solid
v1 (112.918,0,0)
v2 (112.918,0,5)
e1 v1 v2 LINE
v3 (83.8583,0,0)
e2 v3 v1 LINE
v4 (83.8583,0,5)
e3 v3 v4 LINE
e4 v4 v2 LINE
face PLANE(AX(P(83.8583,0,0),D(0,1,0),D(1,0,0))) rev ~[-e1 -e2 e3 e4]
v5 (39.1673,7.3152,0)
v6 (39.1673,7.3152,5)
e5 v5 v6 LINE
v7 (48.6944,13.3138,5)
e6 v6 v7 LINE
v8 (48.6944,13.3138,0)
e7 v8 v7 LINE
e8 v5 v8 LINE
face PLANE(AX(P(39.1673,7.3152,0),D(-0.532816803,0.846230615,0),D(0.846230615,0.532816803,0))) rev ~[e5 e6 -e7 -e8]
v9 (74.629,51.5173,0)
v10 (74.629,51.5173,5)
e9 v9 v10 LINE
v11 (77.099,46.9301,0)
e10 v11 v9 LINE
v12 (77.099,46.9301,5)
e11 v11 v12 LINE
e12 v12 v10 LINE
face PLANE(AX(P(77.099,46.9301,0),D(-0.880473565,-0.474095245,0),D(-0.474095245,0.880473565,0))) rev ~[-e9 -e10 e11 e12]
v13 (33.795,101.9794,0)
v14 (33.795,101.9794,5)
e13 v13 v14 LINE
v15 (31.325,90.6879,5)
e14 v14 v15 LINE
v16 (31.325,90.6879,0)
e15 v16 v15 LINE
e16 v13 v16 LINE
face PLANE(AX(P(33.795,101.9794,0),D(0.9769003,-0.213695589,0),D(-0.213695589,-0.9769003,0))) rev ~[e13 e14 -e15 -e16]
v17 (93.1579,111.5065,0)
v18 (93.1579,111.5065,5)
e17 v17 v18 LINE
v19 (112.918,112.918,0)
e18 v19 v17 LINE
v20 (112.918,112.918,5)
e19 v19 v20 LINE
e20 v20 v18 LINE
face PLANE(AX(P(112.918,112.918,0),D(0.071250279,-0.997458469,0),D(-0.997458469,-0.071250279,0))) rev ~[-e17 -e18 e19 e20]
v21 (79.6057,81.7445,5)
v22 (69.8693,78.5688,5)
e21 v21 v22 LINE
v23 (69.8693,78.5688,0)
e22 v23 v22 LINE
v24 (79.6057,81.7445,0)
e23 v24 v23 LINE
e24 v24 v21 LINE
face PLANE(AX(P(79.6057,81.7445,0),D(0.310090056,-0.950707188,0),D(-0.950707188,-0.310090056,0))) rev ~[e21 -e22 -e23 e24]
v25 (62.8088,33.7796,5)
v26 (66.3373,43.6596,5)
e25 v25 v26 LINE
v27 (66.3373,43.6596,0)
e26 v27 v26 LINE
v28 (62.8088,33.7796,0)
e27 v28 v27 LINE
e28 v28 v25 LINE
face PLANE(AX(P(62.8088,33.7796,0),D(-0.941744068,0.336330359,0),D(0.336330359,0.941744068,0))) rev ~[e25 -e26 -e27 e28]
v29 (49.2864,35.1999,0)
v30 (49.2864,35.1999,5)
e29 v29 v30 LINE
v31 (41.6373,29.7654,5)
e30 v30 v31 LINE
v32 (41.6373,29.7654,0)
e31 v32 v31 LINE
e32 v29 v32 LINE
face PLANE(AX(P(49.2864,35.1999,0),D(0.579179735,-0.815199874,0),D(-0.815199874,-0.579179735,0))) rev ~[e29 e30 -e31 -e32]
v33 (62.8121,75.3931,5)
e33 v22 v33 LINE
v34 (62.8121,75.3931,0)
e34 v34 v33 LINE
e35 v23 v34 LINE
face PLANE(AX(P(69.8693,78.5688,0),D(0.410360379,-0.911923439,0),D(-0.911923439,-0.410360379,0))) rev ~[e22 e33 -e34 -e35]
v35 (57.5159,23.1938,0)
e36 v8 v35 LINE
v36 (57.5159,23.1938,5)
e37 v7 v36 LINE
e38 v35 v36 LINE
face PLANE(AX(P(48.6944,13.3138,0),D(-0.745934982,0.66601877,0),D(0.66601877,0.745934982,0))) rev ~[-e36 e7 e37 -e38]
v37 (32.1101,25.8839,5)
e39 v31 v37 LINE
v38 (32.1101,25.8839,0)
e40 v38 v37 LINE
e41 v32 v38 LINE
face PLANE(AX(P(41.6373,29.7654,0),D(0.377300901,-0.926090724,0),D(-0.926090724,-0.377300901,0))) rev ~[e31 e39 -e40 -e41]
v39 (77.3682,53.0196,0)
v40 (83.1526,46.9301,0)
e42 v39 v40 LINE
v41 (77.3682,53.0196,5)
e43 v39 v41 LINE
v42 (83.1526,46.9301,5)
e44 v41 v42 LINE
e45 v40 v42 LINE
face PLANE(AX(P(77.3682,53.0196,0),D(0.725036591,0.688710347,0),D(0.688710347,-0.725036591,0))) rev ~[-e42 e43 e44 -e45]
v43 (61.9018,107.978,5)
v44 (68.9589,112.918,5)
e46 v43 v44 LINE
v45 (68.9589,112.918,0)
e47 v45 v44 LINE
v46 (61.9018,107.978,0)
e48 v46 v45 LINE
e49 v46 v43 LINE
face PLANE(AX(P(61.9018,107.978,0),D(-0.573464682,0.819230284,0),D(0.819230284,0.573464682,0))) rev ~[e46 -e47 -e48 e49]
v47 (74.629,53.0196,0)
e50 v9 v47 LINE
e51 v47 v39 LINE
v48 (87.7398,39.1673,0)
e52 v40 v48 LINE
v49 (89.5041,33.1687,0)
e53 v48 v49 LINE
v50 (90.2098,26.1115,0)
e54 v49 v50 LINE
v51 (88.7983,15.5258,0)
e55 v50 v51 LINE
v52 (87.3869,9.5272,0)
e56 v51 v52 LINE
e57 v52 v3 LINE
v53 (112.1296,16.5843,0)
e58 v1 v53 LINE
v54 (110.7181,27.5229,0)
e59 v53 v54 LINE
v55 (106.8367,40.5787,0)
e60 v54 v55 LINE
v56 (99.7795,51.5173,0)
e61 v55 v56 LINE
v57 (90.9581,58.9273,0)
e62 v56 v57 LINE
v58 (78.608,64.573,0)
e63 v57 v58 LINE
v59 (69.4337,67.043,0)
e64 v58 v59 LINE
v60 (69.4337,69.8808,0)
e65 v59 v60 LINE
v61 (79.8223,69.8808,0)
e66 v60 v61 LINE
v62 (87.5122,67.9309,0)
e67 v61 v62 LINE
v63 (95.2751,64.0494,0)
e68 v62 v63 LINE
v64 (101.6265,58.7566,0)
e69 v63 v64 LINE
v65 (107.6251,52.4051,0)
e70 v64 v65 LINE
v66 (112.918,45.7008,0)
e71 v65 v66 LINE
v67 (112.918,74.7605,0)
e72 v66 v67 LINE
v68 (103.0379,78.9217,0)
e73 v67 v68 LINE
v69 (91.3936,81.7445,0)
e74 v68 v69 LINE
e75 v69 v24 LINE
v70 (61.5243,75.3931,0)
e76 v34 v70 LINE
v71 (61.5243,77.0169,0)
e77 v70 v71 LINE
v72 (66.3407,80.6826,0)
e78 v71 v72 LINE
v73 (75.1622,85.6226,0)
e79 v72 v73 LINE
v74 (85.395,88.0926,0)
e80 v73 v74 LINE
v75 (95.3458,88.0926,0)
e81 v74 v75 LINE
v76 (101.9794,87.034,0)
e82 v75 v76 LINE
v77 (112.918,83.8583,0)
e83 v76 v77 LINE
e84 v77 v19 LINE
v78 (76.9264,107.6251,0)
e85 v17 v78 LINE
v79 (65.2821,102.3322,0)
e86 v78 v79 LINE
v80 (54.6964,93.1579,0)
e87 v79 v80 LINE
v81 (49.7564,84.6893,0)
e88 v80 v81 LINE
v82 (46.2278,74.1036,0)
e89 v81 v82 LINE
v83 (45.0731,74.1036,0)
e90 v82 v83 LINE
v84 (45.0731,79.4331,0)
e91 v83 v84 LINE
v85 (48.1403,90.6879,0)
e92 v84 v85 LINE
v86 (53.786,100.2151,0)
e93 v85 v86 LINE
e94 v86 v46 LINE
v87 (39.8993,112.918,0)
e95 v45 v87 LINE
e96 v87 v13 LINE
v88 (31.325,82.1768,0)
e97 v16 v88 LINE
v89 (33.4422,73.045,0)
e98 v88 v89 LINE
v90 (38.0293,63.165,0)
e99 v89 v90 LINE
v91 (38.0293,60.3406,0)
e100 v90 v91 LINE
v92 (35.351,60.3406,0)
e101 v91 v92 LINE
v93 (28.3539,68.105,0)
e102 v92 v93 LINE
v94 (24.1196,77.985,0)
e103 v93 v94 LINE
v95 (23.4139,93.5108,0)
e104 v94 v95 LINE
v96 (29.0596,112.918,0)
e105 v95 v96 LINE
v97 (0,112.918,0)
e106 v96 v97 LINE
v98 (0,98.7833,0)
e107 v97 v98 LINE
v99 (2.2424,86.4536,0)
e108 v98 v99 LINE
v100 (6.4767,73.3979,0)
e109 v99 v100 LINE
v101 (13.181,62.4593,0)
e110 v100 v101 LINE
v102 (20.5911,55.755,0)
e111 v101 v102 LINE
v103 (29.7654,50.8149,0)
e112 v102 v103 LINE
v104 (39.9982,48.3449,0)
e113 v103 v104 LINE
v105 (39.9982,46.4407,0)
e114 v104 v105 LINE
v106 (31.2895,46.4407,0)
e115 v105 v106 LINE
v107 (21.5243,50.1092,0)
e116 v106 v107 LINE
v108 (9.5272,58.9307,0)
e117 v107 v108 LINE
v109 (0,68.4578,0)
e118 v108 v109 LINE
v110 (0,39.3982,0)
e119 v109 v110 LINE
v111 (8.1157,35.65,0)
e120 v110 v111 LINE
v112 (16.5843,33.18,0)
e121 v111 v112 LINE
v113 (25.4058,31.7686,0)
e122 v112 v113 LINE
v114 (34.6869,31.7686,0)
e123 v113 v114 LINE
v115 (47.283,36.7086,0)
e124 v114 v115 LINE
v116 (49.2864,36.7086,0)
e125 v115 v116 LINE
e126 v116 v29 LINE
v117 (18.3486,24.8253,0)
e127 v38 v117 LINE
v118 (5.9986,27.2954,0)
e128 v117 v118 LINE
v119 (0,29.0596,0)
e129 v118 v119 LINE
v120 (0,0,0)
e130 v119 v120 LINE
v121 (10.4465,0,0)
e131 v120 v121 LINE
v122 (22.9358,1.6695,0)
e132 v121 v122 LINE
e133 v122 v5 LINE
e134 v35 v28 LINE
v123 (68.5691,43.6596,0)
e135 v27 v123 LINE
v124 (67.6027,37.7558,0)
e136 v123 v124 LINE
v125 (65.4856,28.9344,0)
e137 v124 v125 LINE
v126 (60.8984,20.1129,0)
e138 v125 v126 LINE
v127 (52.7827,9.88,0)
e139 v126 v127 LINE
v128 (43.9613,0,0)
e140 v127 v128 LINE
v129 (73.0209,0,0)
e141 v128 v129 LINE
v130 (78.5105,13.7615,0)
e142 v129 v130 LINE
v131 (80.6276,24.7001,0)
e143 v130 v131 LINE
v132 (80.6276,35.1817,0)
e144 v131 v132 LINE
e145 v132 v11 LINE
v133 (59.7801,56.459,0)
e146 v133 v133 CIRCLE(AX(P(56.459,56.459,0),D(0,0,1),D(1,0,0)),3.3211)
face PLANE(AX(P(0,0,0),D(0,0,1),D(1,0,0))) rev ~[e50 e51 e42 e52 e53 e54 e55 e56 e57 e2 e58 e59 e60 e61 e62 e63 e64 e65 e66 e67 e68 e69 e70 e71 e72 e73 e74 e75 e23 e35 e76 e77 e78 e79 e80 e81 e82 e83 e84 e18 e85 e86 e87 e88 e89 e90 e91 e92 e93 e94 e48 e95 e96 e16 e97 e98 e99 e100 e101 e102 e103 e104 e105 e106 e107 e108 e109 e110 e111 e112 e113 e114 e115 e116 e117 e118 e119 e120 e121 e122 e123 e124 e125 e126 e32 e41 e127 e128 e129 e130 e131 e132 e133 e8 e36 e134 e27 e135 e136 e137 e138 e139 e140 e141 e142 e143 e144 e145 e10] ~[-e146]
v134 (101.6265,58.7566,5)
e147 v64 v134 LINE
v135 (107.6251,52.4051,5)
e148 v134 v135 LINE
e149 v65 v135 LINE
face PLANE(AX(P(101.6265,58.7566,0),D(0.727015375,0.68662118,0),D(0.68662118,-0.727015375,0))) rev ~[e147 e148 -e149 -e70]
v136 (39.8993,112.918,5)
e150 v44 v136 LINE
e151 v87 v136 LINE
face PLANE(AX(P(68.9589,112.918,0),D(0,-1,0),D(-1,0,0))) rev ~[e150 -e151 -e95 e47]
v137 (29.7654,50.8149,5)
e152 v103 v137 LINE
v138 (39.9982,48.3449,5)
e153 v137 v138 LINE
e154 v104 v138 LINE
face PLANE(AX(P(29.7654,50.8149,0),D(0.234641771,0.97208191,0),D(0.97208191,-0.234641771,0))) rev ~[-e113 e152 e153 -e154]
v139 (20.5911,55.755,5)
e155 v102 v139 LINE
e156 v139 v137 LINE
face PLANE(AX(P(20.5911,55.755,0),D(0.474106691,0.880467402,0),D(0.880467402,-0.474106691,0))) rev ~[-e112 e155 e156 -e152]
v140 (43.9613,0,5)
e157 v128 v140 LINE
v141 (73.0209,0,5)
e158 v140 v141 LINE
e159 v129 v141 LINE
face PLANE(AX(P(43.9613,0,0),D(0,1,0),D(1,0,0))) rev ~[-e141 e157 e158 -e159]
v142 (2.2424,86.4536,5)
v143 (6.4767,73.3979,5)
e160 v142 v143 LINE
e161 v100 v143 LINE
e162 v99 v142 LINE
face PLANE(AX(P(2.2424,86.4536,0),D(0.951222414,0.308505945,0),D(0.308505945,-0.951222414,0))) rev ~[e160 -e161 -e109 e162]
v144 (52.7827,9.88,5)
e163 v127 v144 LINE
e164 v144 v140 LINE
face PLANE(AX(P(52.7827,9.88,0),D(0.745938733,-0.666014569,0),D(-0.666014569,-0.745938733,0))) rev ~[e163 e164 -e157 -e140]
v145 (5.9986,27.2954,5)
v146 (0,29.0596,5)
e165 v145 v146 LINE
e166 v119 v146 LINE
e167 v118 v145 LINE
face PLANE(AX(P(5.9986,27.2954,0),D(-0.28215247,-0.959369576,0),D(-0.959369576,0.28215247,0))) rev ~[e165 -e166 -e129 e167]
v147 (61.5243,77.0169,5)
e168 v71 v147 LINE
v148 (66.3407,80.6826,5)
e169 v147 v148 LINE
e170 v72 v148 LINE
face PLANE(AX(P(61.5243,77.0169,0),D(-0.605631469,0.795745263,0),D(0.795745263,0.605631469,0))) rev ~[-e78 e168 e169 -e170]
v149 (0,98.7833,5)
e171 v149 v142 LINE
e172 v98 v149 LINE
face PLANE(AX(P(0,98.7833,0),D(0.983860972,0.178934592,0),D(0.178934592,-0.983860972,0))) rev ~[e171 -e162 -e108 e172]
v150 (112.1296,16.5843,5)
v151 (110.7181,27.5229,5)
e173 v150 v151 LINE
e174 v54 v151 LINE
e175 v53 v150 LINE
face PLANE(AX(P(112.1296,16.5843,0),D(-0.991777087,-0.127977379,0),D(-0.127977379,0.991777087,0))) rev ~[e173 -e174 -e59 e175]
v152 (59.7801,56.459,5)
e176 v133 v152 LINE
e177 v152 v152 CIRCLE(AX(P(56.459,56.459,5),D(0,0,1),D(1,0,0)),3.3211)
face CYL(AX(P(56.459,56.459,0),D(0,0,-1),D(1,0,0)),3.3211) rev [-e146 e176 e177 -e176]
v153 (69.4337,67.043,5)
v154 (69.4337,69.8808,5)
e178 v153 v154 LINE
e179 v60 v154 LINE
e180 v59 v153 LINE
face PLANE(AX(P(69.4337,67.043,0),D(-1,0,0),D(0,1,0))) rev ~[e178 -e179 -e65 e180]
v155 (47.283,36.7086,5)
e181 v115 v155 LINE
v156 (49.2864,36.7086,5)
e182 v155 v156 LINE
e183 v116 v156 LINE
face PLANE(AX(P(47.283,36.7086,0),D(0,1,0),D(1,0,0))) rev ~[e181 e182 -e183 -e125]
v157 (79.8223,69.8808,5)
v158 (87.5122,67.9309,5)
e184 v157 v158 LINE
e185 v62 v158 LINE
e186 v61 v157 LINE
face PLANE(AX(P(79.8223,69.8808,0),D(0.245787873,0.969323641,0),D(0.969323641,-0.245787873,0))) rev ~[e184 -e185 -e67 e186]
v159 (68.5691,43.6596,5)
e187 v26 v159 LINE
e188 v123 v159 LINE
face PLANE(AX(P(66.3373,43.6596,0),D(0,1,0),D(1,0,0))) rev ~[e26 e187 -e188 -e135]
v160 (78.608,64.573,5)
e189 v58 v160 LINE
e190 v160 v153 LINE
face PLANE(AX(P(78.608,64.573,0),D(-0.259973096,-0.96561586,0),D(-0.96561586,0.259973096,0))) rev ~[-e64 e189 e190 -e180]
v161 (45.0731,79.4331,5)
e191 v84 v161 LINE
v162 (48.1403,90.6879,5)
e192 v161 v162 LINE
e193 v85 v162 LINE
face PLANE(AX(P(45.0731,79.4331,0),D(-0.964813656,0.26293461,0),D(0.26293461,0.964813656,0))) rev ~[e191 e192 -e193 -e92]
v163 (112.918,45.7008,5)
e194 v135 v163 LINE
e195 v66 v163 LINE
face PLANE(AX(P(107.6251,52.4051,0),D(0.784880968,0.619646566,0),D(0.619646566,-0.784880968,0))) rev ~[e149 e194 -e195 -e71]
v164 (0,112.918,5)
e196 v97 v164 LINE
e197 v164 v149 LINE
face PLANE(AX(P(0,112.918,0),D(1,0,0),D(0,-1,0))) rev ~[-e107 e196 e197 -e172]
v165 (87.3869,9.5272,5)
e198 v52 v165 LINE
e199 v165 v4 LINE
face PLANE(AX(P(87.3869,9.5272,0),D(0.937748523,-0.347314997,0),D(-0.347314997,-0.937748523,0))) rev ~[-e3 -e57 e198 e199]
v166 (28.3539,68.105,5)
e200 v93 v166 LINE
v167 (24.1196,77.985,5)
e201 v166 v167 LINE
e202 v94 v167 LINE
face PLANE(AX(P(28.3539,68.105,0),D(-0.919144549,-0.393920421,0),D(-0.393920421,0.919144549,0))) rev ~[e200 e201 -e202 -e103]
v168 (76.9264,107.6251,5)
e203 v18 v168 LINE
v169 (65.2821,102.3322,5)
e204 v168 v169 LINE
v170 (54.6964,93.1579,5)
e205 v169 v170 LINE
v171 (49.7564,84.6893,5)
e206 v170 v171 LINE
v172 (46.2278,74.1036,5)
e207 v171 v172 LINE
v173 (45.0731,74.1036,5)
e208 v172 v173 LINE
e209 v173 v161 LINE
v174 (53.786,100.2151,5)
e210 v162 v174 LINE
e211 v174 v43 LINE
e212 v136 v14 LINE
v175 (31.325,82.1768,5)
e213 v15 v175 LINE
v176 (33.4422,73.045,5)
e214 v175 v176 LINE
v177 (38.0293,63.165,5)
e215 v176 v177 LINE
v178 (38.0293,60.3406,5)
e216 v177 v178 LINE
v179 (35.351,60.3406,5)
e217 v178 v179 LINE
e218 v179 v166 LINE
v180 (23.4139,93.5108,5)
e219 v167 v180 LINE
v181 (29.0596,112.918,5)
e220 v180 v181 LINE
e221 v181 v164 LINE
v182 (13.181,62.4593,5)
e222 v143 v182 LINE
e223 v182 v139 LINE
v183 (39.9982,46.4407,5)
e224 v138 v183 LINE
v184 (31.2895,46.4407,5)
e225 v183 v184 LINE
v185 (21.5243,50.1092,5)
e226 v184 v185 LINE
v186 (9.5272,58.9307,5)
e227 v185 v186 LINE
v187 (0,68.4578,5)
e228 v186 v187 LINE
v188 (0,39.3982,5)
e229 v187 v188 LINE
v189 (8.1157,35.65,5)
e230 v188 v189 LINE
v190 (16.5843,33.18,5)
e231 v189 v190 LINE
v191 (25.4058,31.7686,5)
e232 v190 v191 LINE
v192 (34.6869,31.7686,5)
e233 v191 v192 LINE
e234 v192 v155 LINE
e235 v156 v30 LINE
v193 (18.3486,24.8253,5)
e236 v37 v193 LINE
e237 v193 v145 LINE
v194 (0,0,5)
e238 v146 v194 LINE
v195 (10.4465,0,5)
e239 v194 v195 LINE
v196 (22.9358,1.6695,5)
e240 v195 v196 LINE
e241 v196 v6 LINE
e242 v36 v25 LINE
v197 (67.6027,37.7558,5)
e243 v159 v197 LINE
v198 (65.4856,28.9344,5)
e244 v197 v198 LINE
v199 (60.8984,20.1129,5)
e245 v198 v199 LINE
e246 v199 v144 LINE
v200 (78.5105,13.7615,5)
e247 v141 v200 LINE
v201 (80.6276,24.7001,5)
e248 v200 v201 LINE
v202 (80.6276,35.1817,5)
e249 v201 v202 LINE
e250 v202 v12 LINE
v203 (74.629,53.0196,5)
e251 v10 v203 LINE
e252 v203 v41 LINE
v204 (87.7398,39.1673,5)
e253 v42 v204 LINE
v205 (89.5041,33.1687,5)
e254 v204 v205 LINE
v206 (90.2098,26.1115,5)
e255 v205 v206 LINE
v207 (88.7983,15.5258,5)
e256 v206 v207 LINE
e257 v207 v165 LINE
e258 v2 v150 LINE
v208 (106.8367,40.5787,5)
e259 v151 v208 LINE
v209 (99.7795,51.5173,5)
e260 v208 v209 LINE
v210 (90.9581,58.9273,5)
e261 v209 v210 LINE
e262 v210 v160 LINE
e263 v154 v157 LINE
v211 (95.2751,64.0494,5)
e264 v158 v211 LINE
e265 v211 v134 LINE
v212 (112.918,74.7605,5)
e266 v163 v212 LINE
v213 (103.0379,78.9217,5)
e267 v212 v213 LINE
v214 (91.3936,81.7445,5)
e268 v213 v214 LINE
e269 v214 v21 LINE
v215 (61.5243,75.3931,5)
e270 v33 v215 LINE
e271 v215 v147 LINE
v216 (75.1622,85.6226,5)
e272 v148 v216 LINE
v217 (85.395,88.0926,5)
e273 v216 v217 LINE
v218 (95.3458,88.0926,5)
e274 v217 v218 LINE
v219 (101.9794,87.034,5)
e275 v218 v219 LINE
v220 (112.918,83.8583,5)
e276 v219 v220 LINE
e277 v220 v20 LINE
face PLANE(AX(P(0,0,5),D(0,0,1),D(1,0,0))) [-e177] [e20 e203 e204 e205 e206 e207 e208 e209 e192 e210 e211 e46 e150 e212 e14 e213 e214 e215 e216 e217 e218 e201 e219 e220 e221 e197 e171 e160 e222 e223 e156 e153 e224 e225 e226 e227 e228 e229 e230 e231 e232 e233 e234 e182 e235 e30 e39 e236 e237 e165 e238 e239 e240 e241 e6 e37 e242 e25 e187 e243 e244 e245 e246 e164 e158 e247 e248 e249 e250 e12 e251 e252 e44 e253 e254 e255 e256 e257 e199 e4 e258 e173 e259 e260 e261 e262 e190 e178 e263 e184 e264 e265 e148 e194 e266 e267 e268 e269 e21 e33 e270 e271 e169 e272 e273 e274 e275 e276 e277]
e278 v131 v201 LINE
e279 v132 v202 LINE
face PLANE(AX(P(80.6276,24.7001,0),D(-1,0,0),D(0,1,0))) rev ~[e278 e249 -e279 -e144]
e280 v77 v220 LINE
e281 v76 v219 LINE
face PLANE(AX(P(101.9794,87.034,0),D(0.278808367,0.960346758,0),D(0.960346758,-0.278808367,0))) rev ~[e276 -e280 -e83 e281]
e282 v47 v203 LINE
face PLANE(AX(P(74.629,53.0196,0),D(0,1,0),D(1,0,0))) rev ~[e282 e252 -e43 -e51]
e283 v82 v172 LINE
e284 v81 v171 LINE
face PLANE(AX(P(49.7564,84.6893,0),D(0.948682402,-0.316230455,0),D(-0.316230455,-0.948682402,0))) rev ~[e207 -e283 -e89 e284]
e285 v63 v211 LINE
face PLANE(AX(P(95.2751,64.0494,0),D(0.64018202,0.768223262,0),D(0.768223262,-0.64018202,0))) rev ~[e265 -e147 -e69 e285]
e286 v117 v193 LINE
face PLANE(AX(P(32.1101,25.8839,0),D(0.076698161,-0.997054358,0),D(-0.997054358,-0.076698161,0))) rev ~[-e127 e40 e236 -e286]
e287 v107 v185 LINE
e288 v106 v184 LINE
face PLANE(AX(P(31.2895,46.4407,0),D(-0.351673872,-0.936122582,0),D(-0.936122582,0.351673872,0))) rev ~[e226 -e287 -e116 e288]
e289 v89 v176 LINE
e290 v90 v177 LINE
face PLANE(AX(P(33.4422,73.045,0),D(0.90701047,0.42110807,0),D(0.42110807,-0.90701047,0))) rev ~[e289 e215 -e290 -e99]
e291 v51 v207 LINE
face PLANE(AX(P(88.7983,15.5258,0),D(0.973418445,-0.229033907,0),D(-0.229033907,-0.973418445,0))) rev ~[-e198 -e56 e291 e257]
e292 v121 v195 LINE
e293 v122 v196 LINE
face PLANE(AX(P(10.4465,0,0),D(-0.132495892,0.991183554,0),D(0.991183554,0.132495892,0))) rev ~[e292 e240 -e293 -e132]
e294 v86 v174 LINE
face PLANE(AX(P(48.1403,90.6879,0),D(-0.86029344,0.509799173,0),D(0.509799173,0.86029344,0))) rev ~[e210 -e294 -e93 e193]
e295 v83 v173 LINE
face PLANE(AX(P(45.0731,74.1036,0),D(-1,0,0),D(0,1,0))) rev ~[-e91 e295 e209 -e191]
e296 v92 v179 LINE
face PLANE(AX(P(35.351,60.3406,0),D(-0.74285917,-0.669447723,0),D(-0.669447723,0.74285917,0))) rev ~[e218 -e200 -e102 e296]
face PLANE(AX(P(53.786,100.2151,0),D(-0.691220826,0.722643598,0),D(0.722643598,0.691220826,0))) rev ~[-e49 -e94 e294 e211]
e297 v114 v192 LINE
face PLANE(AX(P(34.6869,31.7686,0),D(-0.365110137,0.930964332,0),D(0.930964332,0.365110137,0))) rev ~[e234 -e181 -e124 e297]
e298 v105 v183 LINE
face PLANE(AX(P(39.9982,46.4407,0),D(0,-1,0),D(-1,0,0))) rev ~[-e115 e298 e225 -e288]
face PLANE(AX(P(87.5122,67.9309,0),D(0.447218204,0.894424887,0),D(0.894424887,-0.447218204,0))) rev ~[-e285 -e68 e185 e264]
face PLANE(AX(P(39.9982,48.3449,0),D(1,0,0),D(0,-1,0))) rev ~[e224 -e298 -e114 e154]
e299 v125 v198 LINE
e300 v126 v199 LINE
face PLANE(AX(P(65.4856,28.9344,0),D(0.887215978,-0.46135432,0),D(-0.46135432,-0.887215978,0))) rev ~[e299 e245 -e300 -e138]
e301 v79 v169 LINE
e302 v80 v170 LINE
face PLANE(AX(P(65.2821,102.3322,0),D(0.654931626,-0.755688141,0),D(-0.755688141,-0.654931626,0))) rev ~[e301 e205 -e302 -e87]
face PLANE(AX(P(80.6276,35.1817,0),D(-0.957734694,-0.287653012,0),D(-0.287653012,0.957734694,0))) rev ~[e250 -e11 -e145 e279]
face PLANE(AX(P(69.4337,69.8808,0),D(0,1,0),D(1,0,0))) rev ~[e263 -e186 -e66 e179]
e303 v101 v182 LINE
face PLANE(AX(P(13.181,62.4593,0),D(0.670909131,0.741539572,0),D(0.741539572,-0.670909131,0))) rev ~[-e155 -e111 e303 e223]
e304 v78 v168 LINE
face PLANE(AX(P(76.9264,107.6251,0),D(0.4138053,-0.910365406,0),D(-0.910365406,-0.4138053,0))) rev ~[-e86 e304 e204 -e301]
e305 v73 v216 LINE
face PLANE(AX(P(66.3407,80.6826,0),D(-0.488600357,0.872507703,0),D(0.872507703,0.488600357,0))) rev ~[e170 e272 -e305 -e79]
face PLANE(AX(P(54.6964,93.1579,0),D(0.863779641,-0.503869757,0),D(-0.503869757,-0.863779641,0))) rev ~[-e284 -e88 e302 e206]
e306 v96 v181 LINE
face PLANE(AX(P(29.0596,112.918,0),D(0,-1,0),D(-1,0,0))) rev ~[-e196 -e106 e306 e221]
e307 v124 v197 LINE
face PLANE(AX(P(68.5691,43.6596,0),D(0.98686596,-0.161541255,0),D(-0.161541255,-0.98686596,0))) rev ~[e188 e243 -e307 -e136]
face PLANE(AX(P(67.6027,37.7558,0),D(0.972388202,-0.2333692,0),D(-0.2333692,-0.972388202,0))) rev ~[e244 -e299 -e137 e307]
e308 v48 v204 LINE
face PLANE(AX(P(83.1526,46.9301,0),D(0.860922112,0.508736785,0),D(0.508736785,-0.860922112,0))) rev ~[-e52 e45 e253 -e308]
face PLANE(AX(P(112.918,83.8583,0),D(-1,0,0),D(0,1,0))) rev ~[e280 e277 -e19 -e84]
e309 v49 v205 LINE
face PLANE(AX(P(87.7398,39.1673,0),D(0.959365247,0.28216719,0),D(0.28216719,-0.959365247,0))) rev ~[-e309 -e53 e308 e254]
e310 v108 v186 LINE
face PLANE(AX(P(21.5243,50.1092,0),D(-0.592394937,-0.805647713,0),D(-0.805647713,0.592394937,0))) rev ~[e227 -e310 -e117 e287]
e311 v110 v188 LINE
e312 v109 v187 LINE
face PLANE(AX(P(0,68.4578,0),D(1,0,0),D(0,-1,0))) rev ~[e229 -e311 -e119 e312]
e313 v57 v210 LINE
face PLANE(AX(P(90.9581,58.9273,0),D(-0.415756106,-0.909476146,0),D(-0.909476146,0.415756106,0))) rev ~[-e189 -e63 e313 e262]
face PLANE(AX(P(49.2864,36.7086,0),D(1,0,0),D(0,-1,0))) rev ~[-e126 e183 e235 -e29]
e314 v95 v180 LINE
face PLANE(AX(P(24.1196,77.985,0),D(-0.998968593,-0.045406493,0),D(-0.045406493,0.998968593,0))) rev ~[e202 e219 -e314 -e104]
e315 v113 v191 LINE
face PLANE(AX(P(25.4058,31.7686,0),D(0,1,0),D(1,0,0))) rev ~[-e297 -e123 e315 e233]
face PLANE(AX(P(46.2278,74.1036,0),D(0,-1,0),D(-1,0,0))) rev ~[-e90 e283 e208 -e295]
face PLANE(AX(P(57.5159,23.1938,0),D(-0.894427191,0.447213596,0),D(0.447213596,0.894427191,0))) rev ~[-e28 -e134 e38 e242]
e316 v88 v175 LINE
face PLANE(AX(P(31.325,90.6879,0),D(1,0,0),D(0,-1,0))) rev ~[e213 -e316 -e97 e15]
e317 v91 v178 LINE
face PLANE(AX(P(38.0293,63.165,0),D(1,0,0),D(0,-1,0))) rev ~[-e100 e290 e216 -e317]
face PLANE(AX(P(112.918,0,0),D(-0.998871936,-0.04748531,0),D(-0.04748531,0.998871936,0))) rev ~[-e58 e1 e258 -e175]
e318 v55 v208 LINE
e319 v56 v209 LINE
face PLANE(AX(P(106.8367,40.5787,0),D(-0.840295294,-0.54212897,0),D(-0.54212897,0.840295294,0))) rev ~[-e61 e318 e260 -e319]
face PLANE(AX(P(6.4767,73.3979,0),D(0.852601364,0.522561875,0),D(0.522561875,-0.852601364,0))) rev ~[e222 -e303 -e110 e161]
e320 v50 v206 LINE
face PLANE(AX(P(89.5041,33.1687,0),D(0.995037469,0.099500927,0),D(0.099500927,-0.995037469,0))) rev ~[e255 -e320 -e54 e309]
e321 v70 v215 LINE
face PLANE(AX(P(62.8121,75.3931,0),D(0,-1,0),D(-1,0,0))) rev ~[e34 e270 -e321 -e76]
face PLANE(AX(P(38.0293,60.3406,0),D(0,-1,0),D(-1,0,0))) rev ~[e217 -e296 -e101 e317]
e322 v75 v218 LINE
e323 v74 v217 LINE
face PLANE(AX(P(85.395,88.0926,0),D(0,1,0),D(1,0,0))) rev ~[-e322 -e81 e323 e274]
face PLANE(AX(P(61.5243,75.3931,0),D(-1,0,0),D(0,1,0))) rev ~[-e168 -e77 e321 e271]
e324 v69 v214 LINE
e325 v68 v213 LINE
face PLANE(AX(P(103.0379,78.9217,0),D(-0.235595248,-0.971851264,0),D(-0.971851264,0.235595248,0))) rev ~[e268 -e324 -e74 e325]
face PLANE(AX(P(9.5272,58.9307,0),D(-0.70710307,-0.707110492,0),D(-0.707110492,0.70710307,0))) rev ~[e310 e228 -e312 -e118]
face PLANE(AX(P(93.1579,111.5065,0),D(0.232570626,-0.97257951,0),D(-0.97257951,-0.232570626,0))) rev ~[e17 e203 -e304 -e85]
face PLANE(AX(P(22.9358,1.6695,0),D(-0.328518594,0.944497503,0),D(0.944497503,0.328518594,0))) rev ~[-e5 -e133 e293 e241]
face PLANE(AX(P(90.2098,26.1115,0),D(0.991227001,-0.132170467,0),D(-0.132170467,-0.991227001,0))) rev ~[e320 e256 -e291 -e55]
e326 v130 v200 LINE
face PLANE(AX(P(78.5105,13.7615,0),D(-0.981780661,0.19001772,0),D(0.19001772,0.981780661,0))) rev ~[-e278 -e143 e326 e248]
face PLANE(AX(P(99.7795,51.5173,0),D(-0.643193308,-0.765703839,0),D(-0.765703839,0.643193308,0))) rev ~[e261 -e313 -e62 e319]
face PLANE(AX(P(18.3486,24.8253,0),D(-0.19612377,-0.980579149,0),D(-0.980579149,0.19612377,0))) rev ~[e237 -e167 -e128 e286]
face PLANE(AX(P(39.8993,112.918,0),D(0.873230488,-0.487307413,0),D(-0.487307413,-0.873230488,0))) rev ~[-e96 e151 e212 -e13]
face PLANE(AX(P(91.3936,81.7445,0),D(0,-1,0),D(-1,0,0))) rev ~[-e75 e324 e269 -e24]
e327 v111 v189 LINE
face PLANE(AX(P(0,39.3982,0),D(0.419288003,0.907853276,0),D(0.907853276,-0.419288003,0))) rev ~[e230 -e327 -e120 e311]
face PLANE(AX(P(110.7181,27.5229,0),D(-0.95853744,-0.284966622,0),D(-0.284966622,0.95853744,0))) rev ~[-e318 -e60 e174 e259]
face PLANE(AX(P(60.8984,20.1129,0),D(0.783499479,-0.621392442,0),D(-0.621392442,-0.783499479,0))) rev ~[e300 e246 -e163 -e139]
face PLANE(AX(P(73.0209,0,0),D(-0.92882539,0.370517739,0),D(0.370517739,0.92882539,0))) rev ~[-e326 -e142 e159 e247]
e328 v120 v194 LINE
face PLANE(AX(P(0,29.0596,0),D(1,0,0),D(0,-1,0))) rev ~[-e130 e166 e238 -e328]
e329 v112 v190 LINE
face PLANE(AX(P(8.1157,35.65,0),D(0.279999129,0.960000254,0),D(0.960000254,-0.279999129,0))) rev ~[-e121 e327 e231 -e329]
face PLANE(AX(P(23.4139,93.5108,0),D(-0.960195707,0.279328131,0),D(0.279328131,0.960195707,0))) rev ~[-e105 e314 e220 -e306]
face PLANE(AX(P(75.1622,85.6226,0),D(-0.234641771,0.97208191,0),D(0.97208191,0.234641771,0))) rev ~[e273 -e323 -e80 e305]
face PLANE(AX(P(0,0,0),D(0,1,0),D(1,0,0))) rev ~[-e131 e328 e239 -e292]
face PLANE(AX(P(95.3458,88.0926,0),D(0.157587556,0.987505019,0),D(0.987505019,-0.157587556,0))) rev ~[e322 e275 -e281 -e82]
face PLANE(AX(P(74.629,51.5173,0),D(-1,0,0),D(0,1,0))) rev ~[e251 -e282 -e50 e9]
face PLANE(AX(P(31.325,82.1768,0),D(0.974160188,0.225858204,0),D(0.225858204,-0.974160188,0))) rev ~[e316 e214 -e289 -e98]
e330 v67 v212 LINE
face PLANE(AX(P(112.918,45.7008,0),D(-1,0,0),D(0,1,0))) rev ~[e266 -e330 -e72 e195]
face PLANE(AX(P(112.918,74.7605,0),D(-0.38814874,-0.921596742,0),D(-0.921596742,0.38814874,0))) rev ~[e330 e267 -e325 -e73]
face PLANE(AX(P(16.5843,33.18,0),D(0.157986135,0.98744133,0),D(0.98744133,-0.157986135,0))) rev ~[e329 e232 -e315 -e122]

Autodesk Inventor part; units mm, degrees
ref_plane "YZ Plane" through (0, 0, 0) normal (1, 0, 0) x (0, 1, 0)
ref_plane "XZ Plane" through (0, 0, 0) normal (0, 1, 0) x (-1, 0, 0)
ref_plane "XY Plane" through (0, 0, 0) normal (0, 0, 1) x (1, 0, 0)
sketch "Sketch2" plane through (0, 0, 0) normal (0, 0, 1) x (1, 0, 0)
  line L0 (112.918, 112.918) -> (93.1579, 111.5065)
  line L1 (93.1579, 111.5065) -> (76.9264, 107.6251)
  line L2 (76.9264, 107.6251) -> (65.2821, 102.3322)
  line L3 (65.2821, 102.3322) -> (54.6964, 93.1579)
  line L4 (54.6964, 93.1579) -> (49.7564, 84.6893)
  line L5 (49.7564, 84.6893) -> (46.2278, 74.1036)
  line L6 (46.2278, 74.1036) -> (45.0731, 74.1036)
  line L7 (45.0731, 74.1036) -> (45.0731, 79.4331)
  line L8 (45.0731, 79.4331) -> (48.1403, 90.6879)
  line L9 (48.1403, 90.6879) -> (53.786, 100.2151)
  line L10 (53.786, 100.2151) -> (61.9018, 107.978)
  line L11 (61.9018, 107.978) -> (68.9589, 112.918)
  line L12 (68.9589, 112.918) -> (39.8993, 112.918)
  line L13 (39.8993, 112.918) -> (33.795, 101.9794)
  line L14 (33.795, 101.9794) -> (31.325, 90.6879)
  line L15 (31.325, 90.6879) -> (31.325, 82.1768)
  line L16 (31.325, 82.1768) -> (33.4422, 73.045)
  line L17 (33.4422, 73.045) -> (38.0293, 63.165)
  line L18 (38.0293, 63.165) -> (38.0293, 60.3406)
  line L19 (38.0293, 60.3406) -> (35.351, 60.3406)
  line L20 (35.351, 60.3406) -> (28.3539, 68.105)
  line L21 (28.3539, 68.105) -> (24.1196, 77.985)
  line L22 (24.1196, 77.985) -> (23.4139, 93.5108)
  line L23 (23.4139, 93.5108) -> (29.0596, 112.918)
  line L24 (29.0596, 112.918) -> (0, 112.918)
  line L25 (0, 112.918) -> (0, 98.7833)
  line L26 (0, 98.7833) -> (2.2424, 86.4536)
  line L27 (2.2424, 86.4536) -> (6.4767, 73.3979)
  line L28 (6.4767, 73.3979) -> (13.181, 62.4593)
  line L29 (13.181, 62.4593) -> (20.5911, 55.755)
  line L30 (20.5911, 55.755) -> (29.7654, 50.8149)
  line L31 (29.7654, 50.8149) -> (39.9982, 48.3449)
  line L32 (39.9982, 48.3449) -> (39.9982, 46.4407)
  line L33 (39.9982, 46.4407) -> (31.2895, 46.4407)
  line L34 (31.2895, 46.4407) -> (21.5243, 50.1092)
  line L35 (21.5243, 50.1092) -> (9.5272, 58.9307)
  line L36 (9.5272, 58.9307) -> (0, 68.4578)
  line L37 (0, 68.4578) -> (0, 39.3982)
  line L38 (0, 39.3982) -> (8.1157, 35.65)
  line L39 (8.1157, 35.65) -> (16.5843, 33.18)
  line L40 (16.5843, 33.18) -> (25.4058, 31.7686)
  line L41 (25.4058, 31.7686) -> (34.6869, 31.7686)
  line L42 (34.6869, 31.7686) -> (47.283, 36.7086)
  line L43 (47.283, 36.7086) -> (49.2864, 36.7086)
  line L44 (49.2864, 36.7086) -> (49.2864, 35.1999)
  line L45 (49.2864, 35.1999) -> (41.6373, 29.7654)
  line L46 (41.6373, 29.7654) -> (32.1101, 25.8839)
  line L47 (32.1101, 25.8839) -> (18.3486, 24.8253)
  line L48 (18.3486, 24.8253) -> (5.9986, 27.2954)
  line L49 (5.9986, 27.2954) -> (0, 29.0596)
  line L50 (0, 29.0596) -> (0, 0)
  line L51 (0, 0) -> (10.4465, 0)
  line L52 (10.4465, 0) -> (22.9358, 1.6695)
  line L53 (22.9358, 1.6695) -> (39.1673, 7.3152)
  line L54 (39.1673, 7.3152) -> (48.6944, 13.3138)
  line L55 (48.6944, 13.3138) -> (57.5159, 23.1938)
  line L56 (57.5159, 23.1938) -> (62.8088, 33.7796)
  line L57 (62.8088, 33.7796) -> (66.3373, 43.6596)
  line L58 (66.3373, 43.6596) -> (68.5691, 43.6596)
  line L59 (68.5691, 43.6596) -> (67.6027, 37.7558)
  line L60 (67.6027, 37.7558) -> (65.4856, 28.9344)
  line L61 (65.4856, 28.9344) -> (60.8984, 20.1129)
  line L62 (60.8984, 20.1129) -> (52.7827, 9.88)
  line L63 (52.7827, 9.88) -> (43.9613, 0)
  line L64 (43.9613, 0) -> (73.0209, 0)
  line L65 (73.0209, 0) -> (78.5105, 13.7615)
  line L66 (78.5105, 13.7615) -> (80.6276, 24.7001)
  line L67 (80.6276, 24.7001) -> (80.6276, 35.1817)
  line L68 (80.6276, 35.1817) -> (77.099, 46.9301)
  line L69 (77.099, 46.9301) -> (74.629, 51.5173)
  line L70 (74.629, 51.5173) -> (74.629, 53.0196)
  line L71 (74.629, 53.0196) -> (77.3682, 53.0196)
  line L72 (77.3682, 53.0196) -> (83.1526, 46.9301)
  line L73 (83.1526, 46.9301) -> (87.7398, 39.1673)
  line L74 (87.7398, 39.1673) -> (89.5041, 33.1687)
  line L75 (89.5041, 33.1687) -> (90.2098, 26.1115)
  line L76 (90.2098, 26.1115) -> (88.7983, 15.5258)
  line L77 (88.7983, 15.5258) -> (87.3869, 9.5272)
  line L78 (87.3869, 9.5272) -> (83.8583, 0)
  line L79 (83.8583, 0) -> (112.918, 0)
  line L80 (112.918, 0) -> (112.1296, 16.5843)
  line L81 (112.1296, 16.5843) -> (110.7181, 27.5229)
  line L82 (110.7181, 27.5229) -> (106.8367, 40.5787)
  line L83 (106.8367, 40.5787) -> (99.7795, 51.5173)
  line L84 (99.7795, 51.5173) -> (90.9581, 58.9273)
  line L85 (90.9581, 58.9273) -> (78.608, 64.573)
  line L86 (78.608, 64.573) -> (69.4337, 67.043)
  line L87 (69.4337, 67.043) -> (69.4337, 69.8808)
  line L88 (69.4337, 69.8808) -> (79.8223, 69.8808)
  line L89 (79.8223, 69.8808) -> (87.5122, 67.9309)
  line L90 (87.5122, 67.9309) -> (95.2751, 64.0494)
  line L91 (95.2751, 64.0494) -> (101.6265, 58.7566)
  line L92 (101.6265, 58.7566) -> (107.6251, 52.4051)
  line L93 (107.6251, 52.4051) -> (112.918, 45.7008)
  line L94 (112.918, 45.7008) -> (112.918, 74.7605)
  line L95 (112.918, 74.7605) -> (103.0379, 78.9217)
  line L96 (103.0379, 78.9217) -> (91.3936, 81.7445)
  line L97 (91.3936, 81.7445) -> (79.6057, 81.7445)
  line L98 (79.6057, 81.7445) -> (69.8693, 78.5688)
  line L99 (69.8693, 78.5688) -> (62.8121, 75.3931)
  line L100 (62.8121, 75.3931) -> (61.5243, 75.3931)
  line L101 (61.5243, 75.3931) -> (61.5243, 77.0169)
  line L102 (61.5243, 77.0169) -> (66.3407, 80.6826)
  line L103 (66.3407, 80.6826) -> (75.1622, 85.6226)
  line L104 (75.1622, 85.6226) -> (85.395, 88.0926)
  line L105 (85.395, 88.0926) -> (95.3458, 88.0926)
  line L106 (95.3458, 88.0926) -> (101.9794, 87.034)
  line L107 (101.9794, 87.034) -> (112.918, 83.8583)
  line L108 (112.918, 83.8583) -> (112.918, 112.918)
  circle A0 centre (56.459, 56.459) radius 3.3211
  line L109 (112.918, 0) -> (0, 112.918) construction
  line L110 (0, 0) -> (112.918, 0) construction
  line L111 (112.918, 0) -> (112.918, 112.918) construction
  line L112 (112.918, 112.918) -> (0, 112.918) construction
  line L113 (0, 112.918) -> (0, 0) construction
  dimension "d15" = 29.0597
  dimension "d16" = 29.0597
  dimension "d17" = 29.0597
  dimension "d18" = 29.0597
  dimension "d19" = 29.0597
  dimension "d20" = 29.0597
  dimension "d21" = 29.0597
  dimension "d22" = 29.0597
  dimension "d23" = 112.918
  dimension "d24" = 112.918
  dimension "d25" = 112.918
  dimension "d26" = 112.918
  dimension "d27" = 112.918
  dimension "d28" = 112.918
  dimension "d31" = 6.6422
  dimension "d32" = 38.8144
extrude "Extrusion1" add sketch "Sketch2" along normal blind 5
equation "\"d16\" = d15"
equation "\"d17\" = d15"
equation "\"d18\" = d15"
equation "\"d19\" = d15"
equation "\"d20\" = d15"
equation "\"d21\" = d20"
equation "\"d22\" = d15"
equation "\"d24\" = d23"
equation "\"d25\" = d23"
equation "\"d26\" = d23"
equation "\"d27\" = d23"
equation "\"d28\" = d23"
equation "\"d31\" = 0.0588235 * d23"
properties part number "LOGO"
